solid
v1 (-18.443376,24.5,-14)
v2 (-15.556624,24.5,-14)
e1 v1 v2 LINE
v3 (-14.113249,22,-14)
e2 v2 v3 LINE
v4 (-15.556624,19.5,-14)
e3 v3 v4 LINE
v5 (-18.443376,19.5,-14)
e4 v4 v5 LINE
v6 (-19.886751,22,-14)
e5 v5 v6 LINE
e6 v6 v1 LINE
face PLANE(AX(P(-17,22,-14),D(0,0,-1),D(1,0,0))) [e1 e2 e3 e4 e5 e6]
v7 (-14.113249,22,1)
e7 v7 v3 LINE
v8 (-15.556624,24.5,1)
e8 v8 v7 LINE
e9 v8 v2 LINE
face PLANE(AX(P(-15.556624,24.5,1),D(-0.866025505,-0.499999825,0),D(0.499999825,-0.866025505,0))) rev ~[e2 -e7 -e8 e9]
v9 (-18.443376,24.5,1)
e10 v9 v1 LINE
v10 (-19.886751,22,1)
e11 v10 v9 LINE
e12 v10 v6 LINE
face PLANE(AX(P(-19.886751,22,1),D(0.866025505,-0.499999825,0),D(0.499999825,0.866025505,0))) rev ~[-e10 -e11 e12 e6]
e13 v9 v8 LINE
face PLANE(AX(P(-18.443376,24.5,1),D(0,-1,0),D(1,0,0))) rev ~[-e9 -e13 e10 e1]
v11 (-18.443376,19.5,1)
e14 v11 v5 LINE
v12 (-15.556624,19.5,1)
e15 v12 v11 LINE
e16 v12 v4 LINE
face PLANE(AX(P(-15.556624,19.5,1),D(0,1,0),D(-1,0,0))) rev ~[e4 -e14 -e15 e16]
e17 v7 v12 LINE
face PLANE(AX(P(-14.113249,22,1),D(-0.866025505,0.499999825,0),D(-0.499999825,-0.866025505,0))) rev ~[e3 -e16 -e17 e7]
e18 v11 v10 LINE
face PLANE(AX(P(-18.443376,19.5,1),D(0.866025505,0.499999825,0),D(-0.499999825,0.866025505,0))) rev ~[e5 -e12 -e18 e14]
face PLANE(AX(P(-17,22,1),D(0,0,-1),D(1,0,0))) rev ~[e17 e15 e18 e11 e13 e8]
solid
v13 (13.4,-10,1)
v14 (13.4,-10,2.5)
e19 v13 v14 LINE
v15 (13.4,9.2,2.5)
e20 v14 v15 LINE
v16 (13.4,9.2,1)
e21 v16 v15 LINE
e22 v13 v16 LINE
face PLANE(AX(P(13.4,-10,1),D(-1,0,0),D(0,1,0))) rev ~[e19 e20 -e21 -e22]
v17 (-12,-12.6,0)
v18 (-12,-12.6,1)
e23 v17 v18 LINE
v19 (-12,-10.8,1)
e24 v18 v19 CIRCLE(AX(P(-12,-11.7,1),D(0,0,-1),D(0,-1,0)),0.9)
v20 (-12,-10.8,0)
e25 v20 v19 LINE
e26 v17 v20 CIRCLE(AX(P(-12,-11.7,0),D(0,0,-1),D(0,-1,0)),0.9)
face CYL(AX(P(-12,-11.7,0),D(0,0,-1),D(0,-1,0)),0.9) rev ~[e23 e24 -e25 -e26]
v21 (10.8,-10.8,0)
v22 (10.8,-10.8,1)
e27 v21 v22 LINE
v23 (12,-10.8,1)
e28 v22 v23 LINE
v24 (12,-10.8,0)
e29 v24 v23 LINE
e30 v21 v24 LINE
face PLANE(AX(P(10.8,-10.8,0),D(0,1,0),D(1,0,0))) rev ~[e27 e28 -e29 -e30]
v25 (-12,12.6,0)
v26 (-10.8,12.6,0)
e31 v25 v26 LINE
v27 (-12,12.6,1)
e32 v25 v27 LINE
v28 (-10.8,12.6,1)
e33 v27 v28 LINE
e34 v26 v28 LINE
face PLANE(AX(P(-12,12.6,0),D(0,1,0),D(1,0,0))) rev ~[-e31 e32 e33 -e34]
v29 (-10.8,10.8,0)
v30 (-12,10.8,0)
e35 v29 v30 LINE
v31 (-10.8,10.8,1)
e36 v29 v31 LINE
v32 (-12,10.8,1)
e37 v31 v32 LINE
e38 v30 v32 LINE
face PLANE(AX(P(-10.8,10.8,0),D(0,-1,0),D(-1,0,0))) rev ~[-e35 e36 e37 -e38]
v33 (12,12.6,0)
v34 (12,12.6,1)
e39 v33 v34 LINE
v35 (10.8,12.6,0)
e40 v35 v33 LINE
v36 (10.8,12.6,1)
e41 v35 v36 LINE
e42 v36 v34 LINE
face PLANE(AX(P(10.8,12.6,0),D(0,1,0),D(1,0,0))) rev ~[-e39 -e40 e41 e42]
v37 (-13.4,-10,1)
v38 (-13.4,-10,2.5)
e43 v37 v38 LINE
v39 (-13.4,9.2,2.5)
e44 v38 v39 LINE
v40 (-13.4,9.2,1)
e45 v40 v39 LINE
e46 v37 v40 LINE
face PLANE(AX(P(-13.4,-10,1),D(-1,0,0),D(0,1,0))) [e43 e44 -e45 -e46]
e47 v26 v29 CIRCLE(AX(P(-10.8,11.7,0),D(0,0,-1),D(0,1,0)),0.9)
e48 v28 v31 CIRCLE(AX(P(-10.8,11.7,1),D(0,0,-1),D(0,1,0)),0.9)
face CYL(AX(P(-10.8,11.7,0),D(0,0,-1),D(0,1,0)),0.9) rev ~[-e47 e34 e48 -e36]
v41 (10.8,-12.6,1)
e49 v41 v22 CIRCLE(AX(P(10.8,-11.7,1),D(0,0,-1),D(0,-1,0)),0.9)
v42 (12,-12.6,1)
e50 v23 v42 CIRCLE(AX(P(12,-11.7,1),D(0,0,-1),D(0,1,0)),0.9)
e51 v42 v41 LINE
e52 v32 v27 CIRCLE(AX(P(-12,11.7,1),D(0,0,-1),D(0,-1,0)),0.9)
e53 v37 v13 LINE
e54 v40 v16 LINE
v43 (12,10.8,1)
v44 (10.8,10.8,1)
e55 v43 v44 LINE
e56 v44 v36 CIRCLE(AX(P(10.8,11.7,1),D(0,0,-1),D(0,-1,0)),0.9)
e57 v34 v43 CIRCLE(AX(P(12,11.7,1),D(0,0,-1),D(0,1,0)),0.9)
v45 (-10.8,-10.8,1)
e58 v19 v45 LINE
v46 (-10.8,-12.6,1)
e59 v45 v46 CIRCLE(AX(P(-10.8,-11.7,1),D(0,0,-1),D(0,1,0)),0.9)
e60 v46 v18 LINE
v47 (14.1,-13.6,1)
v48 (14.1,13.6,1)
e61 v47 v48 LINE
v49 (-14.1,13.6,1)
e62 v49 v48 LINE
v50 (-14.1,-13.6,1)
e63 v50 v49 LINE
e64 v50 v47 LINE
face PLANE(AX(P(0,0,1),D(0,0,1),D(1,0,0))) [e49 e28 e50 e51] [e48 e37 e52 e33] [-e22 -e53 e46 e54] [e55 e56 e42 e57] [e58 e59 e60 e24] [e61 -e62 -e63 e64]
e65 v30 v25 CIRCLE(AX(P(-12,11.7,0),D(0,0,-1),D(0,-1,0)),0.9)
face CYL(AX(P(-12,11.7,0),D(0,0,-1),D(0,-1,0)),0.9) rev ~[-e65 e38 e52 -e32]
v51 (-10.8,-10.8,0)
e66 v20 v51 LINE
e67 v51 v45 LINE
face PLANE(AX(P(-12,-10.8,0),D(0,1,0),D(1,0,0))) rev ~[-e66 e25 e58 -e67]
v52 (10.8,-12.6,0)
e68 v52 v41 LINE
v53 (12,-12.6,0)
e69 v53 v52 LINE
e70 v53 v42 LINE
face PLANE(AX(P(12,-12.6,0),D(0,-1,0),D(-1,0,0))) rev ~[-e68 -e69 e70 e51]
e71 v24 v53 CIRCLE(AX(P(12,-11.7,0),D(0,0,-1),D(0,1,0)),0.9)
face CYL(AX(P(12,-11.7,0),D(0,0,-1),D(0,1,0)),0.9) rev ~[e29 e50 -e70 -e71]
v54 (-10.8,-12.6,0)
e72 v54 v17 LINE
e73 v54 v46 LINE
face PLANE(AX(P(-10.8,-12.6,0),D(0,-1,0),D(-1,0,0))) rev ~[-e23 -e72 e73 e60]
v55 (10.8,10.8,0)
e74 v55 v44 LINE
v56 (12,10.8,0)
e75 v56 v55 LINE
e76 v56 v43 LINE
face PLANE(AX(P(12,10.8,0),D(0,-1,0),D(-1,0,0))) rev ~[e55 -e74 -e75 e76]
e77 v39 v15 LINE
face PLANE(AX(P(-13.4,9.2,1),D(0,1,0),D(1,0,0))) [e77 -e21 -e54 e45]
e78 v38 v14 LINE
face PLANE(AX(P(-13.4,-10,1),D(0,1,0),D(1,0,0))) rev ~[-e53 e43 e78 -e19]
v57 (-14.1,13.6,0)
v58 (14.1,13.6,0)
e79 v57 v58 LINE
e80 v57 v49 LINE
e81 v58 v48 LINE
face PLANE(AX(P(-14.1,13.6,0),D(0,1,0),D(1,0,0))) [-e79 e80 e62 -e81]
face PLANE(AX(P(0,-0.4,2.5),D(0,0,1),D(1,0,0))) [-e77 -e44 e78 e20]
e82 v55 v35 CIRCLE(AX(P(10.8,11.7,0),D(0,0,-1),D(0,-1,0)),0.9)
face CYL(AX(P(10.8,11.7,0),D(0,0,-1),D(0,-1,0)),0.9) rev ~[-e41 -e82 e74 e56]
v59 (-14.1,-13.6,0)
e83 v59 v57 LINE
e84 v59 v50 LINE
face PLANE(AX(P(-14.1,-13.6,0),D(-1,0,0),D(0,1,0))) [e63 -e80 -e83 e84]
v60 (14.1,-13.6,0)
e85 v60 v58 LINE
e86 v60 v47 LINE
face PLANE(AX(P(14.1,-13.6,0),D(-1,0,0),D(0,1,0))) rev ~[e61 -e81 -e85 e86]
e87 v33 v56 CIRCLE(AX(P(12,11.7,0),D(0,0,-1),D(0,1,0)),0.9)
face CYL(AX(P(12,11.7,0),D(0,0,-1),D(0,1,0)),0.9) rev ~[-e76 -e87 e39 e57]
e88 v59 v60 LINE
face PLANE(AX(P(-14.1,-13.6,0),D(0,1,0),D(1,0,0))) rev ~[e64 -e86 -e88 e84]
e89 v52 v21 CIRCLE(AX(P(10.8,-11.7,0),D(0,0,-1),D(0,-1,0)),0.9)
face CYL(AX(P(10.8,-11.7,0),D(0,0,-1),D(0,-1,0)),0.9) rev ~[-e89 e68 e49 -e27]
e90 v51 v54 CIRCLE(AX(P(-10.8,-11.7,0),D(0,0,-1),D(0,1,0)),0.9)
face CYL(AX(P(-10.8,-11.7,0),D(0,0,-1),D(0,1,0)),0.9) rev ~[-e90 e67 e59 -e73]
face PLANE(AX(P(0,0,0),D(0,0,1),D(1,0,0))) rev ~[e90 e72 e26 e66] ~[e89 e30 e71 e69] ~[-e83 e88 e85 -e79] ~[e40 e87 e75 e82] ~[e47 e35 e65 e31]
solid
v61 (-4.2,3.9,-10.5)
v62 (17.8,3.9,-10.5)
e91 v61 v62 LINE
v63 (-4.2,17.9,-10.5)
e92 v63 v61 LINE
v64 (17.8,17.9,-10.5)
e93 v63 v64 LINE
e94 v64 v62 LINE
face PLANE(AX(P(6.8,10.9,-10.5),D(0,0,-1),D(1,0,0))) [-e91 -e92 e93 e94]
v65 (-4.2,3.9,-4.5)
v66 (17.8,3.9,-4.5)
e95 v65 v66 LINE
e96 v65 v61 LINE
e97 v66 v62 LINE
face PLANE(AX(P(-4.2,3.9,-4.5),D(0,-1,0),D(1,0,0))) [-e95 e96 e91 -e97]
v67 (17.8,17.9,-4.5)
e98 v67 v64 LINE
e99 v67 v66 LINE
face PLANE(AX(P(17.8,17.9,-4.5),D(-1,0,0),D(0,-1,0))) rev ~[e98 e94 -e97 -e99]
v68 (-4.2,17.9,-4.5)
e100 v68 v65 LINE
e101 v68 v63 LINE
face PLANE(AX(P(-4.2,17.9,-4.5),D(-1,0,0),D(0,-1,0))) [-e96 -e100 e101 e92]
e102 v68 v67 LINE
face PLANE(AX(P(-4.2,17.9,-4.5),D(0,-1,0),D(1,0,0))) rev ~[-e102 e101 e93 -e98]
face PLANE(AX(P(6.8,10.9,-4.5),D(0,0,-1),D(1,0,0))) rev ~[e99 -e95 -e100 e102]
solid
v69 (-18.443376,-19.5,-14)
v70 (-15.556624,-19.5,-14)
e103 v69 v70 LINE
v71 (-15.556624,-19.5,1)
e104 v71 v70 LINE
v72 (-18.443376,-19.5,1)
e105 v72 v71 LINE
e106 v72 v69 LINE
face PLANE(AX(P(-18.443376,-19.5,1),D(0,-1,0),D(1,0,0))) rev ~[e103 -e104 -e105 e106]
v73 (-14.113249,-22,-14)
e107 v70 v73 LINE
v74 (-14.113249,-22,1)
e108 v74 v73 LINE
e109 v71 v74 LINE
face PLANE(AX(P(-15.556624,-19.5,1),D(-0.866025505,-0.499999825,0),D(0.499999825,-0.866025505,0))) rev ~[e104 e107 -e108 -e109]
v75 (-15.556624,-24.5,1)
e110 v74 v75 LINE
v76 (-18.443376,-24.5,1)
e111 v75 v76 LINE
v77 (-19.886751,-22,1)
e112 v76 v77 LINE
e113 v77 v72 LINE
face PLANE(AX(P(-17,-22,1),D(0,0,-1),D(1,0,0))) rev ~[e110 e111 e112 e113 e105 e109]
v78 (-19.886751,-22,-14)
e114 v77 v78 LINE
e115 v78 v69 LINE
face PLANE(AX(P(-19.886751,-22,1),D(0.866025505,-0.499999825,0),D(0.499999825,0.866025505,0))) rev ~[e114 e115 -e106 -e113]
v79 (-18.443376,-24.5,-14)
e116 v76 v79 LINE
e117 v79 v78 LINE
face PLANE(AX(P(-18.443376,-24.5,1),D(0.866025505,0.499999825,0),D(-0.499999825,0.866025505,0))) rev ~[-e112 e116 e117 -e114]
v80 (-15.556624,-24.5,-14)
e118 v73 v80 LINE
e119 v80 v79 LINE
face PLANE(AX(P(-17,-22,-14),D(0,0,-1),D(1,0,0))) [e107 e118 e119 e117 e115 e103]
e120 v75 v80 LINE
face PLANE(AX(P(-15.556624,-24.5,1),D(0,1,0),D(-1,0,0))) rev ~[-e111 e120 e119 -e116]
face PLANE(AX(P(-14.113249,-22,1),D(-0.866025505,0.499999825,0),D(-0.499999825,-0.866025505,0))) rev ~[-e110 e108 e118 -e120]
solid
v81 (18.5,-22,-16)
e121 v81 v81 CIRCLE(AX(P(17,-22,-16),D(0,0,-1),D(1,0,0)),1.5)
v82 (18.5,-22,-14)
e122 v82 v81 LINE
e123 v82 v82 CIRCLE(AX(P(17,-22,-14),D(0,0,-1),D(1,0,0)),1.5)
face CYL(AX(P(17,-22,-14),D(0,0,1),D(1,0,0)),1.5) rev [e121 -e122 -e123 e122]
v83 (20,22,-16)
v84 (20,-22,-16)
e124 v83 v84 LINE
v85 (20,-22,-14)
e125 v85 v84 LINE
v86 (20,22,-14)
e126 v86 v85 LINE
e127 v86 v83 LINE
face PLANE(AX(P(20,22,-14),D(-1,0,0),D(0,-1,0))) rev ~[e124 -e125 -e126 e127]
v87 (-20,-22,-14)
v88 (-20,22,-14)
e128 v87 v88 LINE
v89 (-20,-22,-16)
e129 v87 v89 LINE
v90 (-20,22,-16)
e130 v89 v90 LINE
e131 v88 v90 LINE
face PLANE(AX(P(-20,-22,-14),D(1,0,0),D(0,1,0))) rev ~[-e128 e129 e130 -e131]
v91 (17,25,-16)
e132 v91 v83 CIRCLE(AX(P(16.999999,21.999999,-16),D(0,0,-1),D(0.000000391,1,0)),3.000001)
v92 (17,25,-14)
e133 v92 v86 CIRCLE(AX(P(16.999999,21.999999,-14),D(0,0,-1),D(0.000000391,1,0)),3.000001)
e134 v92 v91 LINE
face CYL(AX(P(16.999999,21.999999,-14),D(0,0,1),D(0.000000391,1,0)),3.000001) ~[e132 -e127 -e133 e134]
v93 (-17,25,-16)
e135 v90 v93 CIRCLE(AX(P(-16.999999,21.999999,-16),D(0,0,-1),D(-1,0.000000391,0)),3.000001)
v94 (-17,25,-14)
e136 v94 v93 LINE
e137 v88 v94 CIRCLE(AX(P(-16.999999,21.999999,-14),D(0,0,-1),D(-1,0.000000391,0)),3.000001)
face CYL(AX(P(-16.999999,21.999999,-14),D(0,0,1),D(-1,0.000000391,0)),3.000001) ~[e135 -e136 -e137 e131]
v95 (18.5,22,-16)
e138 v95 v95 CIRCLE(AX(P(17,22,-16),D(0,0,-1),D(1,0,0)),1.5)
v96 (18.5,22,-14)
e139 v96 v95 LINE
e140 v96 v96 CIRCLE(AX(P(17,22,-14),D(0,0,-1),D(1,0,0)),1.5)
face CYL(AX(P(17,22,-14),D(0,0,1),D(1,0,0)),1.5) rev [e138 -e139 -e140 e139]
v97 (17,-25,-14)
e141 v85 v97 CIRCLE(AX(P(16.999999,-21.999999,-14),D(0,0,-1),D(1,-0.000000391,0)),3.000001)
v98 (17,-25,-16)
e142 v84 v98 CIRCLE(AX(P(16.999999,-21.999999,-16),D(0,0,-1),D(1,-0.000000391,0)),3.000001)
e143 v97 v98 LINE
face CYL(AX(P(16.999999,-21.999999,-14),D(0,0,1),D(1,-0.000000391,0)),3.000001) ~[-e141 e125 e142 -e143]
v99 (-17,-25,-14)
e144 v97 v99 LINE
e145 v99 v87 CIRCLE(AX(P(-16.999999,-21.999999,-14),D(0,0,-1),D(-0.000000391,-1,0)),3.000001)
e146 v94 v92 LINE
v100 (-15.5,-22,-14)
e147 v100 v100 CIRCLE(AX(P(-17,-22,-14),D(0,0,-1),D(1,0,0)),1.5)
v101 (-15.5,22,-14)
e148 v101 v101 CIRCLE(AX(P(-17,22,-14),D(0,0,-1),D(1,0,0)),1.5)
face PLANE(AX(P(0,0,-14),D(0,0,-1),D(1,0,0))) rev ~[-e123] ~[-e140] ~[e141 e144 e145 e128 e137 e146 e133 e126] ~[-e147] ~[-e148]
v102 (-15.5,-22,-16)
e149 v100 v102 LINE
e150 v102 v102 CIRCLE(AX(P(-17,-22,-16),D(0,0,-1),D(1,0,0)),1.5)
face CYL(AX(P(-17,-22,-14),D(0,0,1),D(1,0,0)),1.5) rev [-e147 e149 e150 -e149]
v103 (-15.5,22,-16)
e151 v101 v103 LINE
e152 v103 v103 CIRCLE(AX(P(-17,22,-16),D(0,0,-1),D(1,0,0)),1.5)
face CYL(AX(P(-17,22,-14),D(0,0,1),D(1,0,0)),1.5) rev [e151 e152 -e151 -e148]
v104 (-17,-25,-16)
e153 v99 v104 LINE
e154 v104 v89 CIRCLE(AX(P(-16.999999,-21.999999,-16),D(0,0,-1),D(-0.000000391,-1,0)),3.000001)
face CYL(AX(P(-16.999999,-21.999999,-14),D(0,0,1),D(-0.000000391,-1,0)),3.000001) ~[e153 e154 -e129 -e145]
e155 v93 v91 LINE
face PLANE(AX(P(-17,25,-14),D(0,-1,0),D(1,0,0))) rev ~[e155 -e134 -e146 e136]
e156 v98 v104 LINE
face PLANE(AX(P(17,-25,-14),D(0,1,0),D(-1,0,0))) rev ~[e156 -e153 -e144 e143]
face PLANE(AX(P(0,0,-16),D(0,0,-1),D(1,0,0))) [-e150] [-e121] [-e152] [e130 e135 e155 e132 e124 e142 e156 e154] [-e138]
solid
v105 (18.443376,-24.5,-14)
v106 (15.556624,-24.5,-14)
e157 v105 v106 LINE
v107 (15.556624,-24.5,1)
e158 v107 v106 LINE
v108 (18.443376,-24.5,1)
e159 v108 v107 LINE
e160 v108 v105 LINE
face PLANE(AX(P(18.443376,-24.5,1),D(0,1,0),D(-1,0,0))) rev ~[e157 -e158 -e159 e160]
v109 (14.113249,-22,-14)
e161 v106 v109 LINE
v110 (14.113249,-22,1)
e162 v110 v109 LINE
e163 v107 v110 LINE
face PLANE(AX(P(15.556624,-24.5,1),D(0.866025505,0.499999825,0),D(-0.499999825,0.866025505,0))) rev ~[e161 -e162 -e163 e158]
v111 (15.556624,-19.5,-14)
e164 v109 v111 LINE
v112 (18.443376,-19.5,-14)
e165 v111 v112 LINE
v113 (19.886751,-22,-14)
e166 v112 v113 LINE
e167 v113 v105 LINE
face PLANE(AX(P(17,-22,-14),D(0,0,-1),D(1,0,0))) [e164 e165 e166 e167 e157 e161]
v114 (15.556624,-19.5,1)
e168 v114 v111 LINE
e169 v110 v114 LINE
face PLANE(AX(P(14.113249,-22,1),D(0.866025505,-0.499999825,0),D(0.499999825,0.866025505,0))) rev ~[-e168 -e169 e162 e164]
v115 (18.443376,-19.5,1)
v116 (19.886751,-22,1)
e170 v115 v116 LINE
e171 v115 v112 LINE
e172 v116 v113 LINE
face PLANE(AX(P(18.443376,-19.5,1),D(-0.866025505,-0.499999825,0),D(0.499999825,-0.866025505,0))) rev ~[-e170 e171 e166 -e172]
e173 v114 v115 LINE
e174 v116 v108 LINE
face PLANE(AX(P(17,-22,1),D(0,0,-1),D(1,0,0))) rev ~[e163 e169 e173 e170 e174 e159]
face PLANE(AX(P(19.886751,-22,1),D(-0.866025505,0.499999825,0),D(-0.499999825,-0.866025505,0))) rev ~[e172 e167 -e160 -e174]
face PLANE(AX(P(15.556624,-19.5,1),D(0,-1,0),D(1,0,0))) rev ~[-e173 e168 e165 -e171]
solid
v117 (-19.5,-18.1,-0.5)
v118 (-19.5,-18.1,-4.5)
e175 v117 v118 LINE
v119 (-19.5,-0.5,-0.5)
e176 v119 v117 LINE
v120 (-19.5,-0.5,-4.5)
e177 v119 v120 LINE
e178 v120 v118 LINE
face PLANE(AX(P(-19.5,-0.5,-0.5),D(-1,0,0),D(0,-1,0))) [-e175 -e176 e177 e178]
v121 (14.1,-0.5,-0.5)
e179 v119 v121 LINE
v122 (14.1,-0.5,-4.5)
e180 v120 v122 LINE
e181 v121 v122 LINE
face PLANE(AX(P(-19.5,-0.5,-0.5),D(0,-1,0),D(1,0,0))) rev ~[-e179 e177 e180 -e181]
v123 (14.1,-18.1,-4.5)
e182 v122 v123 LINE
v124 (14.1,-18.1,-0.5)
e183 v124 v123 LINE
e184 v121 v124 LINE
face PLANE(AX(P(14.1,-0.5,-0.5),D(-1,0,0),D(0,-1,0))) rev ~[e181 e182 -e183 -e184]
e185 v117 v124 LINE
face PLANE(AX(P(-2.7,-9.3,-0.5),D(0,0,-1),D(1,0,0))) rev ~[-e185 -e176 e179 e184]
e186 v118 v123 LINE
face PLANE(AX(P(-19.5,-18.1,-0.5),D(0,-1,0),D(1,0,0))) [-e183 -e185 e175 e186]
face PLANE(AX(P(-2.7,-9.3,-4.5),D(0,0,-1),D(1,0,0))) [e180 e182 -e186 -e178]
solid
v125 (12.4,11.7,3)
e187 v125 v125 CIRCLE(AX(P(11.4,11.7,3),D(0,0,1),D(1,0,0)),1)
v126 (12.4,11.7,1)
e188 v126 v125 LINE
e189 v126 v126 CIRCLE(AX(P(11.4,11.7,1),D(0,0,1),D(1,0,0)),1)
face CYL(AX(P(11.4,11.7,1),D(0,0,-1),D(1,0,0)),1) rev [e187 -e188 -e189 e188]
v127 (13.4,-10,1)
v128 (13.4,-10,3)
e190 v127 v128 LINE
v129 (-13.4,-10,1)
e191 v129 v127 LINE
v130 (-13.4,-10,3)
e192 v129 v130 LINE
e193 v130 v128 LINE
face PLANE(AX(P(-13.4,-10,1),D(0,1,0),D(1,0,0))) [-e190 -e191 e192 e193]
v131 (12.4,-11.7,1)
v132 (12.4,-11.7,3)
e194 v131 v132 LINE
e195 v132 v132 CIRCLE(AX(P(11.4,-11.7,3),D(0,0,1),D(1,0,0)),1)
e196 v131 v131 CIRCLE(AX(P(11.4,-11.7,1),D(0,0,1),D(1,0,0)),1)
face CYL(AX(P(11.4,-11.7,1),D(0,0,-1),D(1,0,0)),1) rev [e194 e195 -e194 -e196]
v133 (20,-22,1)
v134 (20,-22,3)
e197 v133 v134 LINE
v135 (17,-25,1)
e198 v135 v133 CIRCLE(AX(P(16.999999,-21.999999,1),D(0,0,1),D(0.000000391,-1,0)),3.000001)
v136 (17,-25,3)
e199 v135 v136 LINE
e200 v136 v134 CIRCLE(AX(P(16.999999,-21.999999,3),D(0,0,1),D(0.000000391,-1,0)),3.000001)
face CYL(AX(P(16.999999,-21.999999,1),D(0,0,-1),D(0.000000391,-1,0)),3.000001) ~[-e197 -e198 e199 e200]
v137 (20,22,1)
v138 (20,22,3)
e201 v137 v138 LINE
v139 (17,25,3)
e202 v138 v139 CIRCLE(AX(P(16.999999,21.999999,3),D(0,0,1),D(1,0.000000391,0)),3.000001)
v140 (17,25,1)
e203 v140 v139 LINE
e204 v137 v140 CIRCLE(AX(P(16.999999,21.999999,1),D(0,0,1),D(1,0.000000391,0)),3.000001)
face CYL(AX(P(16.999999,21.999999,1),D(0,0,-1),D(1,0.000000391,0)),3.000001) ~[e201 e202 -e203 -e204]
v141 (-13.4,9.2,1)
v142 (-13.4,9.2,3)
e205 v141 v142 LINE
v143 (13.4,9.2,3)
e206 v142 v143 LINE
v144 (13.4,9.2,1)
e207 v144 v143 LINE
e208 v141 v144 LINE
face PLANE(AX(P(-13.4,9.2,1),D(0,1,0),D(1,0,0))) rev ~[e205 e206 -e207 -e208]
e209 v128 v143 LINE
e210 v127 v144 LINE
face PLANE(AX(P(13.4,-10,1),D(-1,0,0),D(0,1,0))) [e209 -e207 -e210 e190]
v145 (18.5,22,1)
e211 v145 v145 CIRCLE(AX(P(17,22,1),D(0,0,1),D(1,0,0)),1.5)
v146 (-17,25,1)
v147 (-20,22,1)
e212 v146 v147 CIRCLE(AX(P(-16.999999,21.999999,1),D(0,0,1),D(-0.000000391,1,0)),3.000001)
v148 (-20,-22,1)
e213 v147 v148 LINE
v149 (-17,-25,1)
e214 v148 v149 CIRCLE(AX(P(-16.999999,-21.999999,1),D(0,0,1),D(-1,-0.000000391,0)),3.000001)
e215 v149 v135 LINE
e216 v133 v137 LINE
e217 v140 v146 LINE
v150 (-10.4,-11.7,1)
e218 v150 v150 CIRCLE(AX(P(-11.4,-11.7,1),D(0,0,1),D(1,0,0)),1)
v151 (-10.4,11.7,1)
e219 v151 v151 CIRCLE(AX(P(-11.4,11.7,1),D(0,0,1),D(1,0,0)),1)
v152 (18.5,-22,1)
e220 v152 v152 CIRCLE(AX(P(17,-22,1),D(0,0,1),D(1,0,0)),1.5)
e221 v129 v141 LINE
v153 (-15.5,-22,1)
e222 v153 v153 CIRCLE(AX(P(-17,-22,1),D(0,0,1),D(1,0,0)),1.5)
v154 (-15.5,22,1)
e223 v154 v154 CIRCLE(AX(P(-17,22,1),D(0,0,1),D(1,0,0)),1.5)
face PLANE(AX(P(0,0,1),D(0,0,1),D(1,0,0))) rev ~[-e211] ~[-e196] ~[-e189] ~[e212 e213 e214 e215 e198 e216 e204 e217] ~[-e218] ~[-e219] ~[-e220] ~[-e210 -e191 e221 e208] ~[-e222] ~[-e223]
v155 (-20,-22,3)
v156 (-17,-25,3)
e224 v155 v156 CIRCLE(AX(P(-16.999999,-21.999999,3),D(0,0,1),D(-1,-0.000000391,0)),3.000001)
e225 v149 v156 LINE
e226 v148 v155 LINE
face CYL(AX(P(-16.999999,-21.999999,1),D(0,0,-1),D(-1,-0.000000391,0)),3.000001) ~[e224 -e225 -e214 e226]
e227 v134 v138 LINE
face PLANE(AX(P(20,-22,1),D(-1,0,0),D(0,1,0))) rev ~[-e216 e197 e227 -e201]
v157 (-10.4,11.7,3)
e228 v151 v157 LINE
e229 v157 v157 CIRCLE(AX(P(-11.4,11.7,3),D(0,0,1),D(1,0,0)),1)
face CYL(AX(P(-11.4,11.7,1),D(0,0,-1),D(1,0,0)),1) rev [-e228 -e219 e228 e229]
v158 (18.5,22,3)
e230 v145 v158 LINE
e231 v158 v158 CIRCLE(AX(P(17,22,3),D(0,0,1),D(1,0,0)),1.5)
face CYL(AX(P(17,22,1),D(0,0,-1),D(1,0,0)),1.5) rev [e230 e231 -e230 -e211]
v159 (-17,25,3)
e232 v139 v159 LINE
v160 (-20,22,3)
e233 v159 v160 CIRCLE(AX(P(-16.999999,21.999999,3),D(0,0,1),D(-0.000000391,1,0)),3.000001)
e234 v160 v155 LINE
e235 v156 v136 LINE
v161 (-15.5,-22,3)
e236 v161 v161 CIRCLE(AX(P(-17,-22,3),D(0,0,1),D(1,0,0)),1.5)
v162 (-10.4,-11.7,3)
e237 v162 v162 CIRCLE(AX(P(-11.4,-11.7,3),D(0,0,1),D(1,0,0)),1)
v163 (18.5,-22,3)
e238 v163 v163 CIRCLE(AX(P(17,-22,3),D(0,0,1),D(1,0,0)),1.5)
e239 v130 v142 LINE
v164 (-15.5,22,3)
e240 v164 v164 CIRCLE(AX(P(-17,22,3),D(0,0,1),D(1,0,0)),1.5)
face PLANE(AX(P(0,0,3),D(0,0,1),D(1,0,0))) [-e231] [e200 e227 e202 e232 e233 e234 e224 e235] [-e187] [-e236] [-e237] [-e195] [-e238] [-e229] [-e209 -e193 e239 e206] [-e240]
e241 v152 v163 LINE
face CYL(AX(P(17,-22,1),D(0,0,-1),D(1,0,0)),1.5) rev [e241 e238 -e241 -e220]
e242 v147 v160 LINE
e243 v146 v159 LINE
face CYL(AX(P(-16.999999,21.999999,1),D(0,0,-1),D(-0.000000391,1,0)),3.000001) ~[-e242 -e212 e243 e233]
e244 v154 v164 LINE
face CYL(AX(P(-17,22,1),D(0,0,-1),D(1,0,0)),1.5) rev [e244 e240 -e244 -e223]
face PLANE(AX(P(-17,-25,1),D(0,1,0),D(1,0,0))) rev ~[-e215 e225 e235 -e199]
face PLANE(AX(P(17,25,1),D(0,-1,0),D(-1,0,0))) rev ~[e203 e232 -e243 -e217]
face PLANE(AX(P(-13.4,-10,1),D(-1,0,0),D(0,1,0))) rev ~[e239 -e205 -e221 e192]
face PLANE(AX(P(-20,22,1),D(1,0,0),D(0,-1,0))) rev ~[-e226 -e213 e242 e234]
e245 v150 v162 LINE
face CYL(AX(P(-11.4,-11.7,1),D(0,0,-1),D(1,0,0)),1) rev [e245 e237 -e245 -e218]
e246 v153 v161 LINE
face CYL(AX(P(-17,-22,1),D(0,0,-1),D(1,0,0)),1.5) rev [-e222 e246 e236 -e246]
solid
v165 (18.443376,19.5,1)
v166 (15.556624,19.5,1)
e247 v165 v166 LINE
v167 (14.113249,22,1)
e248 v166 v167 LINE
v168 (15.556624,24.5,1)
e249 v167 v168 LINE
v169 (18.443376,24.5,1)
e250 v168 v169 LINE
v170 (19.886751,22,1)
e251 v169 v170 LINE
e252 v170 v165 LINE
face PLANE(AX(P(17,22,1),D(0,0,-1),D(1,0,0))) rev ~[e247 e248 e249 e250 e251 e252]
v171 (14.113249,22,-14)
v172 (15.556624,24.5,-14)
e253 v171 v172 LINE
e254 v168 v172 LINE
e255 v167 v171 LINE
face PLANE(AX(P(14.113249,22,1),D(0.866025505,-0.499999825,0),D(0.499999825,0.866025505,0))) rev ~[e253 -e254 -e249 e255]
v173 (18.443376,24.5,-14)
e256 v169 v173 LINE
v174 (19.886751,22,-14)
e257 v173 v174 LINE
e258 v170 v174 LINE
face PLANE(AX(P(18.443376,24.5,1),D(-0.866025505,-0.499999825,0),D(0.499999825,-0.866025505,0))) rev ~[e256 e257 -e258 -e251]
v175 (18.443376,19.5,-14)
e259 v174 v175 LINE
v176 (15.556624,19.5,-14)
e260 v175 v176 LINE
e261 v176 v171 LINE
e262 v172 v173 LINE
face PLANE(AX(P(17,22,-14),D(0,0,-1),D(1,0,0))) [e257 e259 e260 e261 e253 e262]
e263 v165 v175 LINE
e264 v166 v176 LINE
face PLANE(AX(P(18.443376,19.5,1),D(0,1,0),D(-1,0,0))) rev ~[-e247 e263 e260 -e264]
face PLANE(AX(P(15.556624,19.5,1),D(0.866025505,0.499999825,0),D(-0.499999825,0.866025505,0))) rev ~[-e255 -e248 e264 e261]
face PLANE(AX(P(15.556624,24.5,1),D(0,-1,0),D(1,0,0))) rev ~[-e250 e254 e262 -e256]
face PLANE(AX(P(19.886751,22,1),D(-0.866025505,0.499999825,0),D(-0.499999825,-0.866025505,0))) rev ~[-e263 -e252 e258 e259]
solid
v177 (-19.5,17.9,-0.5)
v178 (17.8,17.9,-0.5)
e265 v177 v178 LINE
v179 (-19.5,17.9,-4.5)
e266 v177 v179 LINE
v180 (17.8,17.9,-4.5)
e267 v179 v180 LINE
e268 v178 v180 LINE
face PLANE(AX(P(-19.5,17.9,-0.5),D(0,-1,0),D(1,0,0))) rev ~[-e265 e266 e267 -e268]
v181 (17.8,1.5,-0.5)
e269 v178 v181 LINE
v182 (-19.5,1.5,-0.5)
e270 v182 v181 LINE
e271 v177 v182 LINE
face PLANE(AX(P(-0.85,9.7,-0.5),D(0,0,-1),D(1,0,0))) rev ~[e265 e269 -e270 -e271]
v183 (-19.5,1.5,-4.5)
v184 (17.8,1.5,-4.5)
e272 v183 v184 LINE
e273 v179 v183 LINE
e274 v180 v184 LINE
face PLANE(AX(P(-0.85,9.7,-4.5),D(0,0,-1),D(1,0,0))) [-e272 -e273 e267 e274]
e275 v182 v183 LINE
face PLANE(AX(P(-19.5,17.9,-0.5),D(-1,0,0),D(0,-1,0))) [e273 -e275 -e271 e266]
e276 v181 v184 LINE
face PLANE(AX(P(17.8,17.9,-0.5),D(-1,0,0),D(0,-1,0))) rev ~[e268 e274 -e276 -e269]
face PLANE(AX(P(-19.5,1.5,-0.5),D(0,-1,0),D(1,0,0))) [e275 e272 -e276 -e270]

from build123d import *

# Parameters (mm, degrees)
F0_W      = 28.2
F0_H      = 27.2
F1_DEPTH  = 1
F2_W      = 26.8
F2_H      = 19.2
F3_DEPTH  = 1.5
F4_R      = 1.5
F4_R_2    = 1
F4_W      = 26.8
F4_H      = 19.2
F5_DEPTH  = 2
F7_W      = 33.6
F7_H      = 17.6
F7_W_2    = 37.3
F7_H_2    = 16.4
F8_DEPTH  = 4
F9_W      = 22
F9_H      = 14
F10_DEPTH = 6
F12_DEPTH = 15
F13_R     = 1.5
F14_DEPTH = 2


with BuildPart() as f1:
    # F0 (on Top) → F1 (new body)
    with BuildSketch(Plane.XY):
        Rectangle(F0_W, F0_H)
        with BuildLine():
            Line((-10.8, -12.6), (-12, -12.6))
            ThreePointArc((-12, -12.6), (-12.9, -11.7), (-12, -10.8))
            Line((-12, -10.8), (-10.8, -10.8))
            ThreePointArc((-10.8, -10.8), (-9.9, -11.7), (-10.8, -12.6))
        make_face(mode=Mode.SUBTRACT)
        with BuildLine():
            Line((10.8, -10.8), (12, -10.8))
            ThreePointArc((12, -10.8), (12.9, -11.7), (12, -12.6))
            Line((12, -12.6), (10.8, -12.6))
            ThreePointArc((10.8, -12.6), (9.9, -11.7), (10.8, -10.8))
        make_face(mode=Mode.SUBTRACT)
        with BuildLine():
            ThreePointArc((-12, 10.8), (-12.9, 11.7), (-12, 12.6))
            Line((-12, 12.6), (-10.8, 12.6))
            ThreePointArc((-10.8, 12.6), (-9.9, 11.7), (-10.8, 10.8))
            Line((-10.8, 10.8), (-12, 10.8))
        make_face(mode=Mode.SUBTRACT)
        with BuildLine():
            ThreePointArc((12, 12.6), (12.9, 11.7), (12, 10.8))
            Line((12, 10.8), (10.8, 10.8))
            ThreePointArc((10.8, 10.8), (9.9, 11.7), (10.8, 12.6))
            Line((10.8, 12.6), (12, 12.6))
        make_face(mode=Mode.SUBTRACT)
    extrude(amount=F1_DEPTH)

    # F2 (on face) → F3 (join)
    with BuildSketch(Plane.XY.offset(1)):
        with Locations((0, -0.4)):
            Rectangle(F2_W, F2_H)
    extrude(amount=F3_DEPTH)


with BuildPart() as f5:
    # F4 (on face) → F5 (new body)
    with BuildSketch(Plane.XY.offset(1)):
        with BuildLine():
            ThreePointArc((20, 22), (19.12132, 24.12132), (17, 25))
            Line((17, 25), (-17, 25))
            ThreePointArc((-17, 25), (-19.12132, 24.12132), (-20, 22))
            Line((-20, 22), (-20, -22))
            ThreePointArc((-20, -22), (-19.12132, -24.12132), (-17, -25))
            Line((-17, -25), (17, -25))
            ThreePointArc((17, -25), (19.12132, -24.12132), (20, -22))
            Line((20, -22), (20, 22))
        make_face()
        with Locations((-17, -22)):
            Circle(F4_R, mode=Mode.SUBTRACT)
        with Locations((-11.4, -11.7)):
            Circle(F4_R_2, mode=Mode.SUBTRACT)
        with Locations((17, -22)):
            Circle(F4_R, mode=Mode.SUBTRACT)
        with Locations((0, -0.4)):
            Rectangle(F4_W, F4_H, mode=Mode.SUBTRACT)
        with Locations((11.4, -11.7)):
            Circle(F4_R_2, mode=Mode.SUBTRACT)
        with Locations((-11.4, 11.7)):
            Circle(F4_R_2, mode=Mode.SUBTRACT)
        with Locations((-17, 22)):
            Circle(F4_R, mode=Mode.SUBTRACT)
        with Locations((11.4, 11.7)):
            Circle(F4_R_2, mode=Mode.SUBTRACT)
        with Locations((17, 22)):
            Circle(F4_R, mode=Mode.SUBTRACT)
    extrude(amount=F5_DEPTH)


with BuildPart() as f8:
    # F7 (on offset) → F8 (new body)
    with BuildSketch(Plane(origin=(0, 0, -0.5), x_dir=(1, 0, 0), z_dir=(0, 0, -1))):
        with Locations((-2.7, 9.3)):
            Rectangle(F7_W, F7_H)
        with Locations((-0.85, -9.7)):
            Rectangle(F7_W_2, F7_H_2)
    extrude(amount=F8_DEPTH)


with BuildPart() as f10:
    # F9 (on face) → F10 (new body)
    with BuildSketch(Plane(origin=(0, 0, -4.5), x_dir=(1, 0, 0), z_dir=(0, 0, -1))):
        with Locations((6.8, -10.9)):
            Rectangle(F9_W, F9_H)
    extrude(amount=F10_DEPTH)


with BuildPart() as f12:
    # F11 (on face) → F12 (new body)
    with BuildSketch(Plane(origin=(0, 0, 1), x_dir=(1, 0, 0), z_dir=(0, 0, -1))):
        Polygon((-15.556624, 24.5), (-18.443376, 24.5), (-19.886751, 22), (-18.443376, 19.5), (-15.556624, 19.5), (-14.113249, 22), align=None)
        Polygon((18.443376, 19.5), (19.886751, 22), (18.443376, 24.5), (15.556624, 24.5), (14.113249, 22), (15.556624, 19.5), align=None)
        Polygon((-19.886751, -22), (-18.443376, -24.5), (-15.556624, -24.5), (-14.113249, -22), (-15.556624, -19.5), (-18.443376, -19.5), align=None)
        Polygon((15.556624, -19.5), (14.113249, -22), (15.556624, -24.5), (18.443376, -24.5), (19.886751, -22), (18.443376, -19.5), align=None)
    extrude(amount=F12_DEPTH)


with BuildPart() as f14:
    # F13 (on face) → F14 (new body)
    with BuildSketch(Plane(origin=(0, 0, -14), x_dir=(1, 0, 0), z_dir=(0, 0, -1))):
        with BuildLine():
            ThreePointArc((20, 22), (19.12132, 24.12132), (17, 25))
            Line((17, 25), (-17, 25))
            ThreePointArc((-17, 25), (-19.12132, 24.12132), (-20, 22))
            Line((-20, 22), (-20, -22))
            ThreePointArc((-20, -22), (-19.12132, -24.12132), (-17, -25))
            Line((-17, -25), (17, -25))
            ThreePointArc((17, -25), (19.12132, -24.12132), (20, -22))
            Line((20, -22), (20, 22))
        make_face()
        with Locations((-17, -22)):
            Circle(F13_R, mode=Mode.SUBTRACT)
        with Locations((17, -22)):
            Circle(F13_R, mode=Mode.SUBTRACT)
        with Locations((-17, 22)):
            Circle(F13_R, mode=Mode.SUBTRACT)
        with Locations((17, 22)):
            Circle(F13_R, mode=Mode.SUBTRACT)
    extrude(amount=F14_DEPTH)


solid = Compound([f1.part, f5.part, f8.part, f10.part, f12.part, f14.part])
